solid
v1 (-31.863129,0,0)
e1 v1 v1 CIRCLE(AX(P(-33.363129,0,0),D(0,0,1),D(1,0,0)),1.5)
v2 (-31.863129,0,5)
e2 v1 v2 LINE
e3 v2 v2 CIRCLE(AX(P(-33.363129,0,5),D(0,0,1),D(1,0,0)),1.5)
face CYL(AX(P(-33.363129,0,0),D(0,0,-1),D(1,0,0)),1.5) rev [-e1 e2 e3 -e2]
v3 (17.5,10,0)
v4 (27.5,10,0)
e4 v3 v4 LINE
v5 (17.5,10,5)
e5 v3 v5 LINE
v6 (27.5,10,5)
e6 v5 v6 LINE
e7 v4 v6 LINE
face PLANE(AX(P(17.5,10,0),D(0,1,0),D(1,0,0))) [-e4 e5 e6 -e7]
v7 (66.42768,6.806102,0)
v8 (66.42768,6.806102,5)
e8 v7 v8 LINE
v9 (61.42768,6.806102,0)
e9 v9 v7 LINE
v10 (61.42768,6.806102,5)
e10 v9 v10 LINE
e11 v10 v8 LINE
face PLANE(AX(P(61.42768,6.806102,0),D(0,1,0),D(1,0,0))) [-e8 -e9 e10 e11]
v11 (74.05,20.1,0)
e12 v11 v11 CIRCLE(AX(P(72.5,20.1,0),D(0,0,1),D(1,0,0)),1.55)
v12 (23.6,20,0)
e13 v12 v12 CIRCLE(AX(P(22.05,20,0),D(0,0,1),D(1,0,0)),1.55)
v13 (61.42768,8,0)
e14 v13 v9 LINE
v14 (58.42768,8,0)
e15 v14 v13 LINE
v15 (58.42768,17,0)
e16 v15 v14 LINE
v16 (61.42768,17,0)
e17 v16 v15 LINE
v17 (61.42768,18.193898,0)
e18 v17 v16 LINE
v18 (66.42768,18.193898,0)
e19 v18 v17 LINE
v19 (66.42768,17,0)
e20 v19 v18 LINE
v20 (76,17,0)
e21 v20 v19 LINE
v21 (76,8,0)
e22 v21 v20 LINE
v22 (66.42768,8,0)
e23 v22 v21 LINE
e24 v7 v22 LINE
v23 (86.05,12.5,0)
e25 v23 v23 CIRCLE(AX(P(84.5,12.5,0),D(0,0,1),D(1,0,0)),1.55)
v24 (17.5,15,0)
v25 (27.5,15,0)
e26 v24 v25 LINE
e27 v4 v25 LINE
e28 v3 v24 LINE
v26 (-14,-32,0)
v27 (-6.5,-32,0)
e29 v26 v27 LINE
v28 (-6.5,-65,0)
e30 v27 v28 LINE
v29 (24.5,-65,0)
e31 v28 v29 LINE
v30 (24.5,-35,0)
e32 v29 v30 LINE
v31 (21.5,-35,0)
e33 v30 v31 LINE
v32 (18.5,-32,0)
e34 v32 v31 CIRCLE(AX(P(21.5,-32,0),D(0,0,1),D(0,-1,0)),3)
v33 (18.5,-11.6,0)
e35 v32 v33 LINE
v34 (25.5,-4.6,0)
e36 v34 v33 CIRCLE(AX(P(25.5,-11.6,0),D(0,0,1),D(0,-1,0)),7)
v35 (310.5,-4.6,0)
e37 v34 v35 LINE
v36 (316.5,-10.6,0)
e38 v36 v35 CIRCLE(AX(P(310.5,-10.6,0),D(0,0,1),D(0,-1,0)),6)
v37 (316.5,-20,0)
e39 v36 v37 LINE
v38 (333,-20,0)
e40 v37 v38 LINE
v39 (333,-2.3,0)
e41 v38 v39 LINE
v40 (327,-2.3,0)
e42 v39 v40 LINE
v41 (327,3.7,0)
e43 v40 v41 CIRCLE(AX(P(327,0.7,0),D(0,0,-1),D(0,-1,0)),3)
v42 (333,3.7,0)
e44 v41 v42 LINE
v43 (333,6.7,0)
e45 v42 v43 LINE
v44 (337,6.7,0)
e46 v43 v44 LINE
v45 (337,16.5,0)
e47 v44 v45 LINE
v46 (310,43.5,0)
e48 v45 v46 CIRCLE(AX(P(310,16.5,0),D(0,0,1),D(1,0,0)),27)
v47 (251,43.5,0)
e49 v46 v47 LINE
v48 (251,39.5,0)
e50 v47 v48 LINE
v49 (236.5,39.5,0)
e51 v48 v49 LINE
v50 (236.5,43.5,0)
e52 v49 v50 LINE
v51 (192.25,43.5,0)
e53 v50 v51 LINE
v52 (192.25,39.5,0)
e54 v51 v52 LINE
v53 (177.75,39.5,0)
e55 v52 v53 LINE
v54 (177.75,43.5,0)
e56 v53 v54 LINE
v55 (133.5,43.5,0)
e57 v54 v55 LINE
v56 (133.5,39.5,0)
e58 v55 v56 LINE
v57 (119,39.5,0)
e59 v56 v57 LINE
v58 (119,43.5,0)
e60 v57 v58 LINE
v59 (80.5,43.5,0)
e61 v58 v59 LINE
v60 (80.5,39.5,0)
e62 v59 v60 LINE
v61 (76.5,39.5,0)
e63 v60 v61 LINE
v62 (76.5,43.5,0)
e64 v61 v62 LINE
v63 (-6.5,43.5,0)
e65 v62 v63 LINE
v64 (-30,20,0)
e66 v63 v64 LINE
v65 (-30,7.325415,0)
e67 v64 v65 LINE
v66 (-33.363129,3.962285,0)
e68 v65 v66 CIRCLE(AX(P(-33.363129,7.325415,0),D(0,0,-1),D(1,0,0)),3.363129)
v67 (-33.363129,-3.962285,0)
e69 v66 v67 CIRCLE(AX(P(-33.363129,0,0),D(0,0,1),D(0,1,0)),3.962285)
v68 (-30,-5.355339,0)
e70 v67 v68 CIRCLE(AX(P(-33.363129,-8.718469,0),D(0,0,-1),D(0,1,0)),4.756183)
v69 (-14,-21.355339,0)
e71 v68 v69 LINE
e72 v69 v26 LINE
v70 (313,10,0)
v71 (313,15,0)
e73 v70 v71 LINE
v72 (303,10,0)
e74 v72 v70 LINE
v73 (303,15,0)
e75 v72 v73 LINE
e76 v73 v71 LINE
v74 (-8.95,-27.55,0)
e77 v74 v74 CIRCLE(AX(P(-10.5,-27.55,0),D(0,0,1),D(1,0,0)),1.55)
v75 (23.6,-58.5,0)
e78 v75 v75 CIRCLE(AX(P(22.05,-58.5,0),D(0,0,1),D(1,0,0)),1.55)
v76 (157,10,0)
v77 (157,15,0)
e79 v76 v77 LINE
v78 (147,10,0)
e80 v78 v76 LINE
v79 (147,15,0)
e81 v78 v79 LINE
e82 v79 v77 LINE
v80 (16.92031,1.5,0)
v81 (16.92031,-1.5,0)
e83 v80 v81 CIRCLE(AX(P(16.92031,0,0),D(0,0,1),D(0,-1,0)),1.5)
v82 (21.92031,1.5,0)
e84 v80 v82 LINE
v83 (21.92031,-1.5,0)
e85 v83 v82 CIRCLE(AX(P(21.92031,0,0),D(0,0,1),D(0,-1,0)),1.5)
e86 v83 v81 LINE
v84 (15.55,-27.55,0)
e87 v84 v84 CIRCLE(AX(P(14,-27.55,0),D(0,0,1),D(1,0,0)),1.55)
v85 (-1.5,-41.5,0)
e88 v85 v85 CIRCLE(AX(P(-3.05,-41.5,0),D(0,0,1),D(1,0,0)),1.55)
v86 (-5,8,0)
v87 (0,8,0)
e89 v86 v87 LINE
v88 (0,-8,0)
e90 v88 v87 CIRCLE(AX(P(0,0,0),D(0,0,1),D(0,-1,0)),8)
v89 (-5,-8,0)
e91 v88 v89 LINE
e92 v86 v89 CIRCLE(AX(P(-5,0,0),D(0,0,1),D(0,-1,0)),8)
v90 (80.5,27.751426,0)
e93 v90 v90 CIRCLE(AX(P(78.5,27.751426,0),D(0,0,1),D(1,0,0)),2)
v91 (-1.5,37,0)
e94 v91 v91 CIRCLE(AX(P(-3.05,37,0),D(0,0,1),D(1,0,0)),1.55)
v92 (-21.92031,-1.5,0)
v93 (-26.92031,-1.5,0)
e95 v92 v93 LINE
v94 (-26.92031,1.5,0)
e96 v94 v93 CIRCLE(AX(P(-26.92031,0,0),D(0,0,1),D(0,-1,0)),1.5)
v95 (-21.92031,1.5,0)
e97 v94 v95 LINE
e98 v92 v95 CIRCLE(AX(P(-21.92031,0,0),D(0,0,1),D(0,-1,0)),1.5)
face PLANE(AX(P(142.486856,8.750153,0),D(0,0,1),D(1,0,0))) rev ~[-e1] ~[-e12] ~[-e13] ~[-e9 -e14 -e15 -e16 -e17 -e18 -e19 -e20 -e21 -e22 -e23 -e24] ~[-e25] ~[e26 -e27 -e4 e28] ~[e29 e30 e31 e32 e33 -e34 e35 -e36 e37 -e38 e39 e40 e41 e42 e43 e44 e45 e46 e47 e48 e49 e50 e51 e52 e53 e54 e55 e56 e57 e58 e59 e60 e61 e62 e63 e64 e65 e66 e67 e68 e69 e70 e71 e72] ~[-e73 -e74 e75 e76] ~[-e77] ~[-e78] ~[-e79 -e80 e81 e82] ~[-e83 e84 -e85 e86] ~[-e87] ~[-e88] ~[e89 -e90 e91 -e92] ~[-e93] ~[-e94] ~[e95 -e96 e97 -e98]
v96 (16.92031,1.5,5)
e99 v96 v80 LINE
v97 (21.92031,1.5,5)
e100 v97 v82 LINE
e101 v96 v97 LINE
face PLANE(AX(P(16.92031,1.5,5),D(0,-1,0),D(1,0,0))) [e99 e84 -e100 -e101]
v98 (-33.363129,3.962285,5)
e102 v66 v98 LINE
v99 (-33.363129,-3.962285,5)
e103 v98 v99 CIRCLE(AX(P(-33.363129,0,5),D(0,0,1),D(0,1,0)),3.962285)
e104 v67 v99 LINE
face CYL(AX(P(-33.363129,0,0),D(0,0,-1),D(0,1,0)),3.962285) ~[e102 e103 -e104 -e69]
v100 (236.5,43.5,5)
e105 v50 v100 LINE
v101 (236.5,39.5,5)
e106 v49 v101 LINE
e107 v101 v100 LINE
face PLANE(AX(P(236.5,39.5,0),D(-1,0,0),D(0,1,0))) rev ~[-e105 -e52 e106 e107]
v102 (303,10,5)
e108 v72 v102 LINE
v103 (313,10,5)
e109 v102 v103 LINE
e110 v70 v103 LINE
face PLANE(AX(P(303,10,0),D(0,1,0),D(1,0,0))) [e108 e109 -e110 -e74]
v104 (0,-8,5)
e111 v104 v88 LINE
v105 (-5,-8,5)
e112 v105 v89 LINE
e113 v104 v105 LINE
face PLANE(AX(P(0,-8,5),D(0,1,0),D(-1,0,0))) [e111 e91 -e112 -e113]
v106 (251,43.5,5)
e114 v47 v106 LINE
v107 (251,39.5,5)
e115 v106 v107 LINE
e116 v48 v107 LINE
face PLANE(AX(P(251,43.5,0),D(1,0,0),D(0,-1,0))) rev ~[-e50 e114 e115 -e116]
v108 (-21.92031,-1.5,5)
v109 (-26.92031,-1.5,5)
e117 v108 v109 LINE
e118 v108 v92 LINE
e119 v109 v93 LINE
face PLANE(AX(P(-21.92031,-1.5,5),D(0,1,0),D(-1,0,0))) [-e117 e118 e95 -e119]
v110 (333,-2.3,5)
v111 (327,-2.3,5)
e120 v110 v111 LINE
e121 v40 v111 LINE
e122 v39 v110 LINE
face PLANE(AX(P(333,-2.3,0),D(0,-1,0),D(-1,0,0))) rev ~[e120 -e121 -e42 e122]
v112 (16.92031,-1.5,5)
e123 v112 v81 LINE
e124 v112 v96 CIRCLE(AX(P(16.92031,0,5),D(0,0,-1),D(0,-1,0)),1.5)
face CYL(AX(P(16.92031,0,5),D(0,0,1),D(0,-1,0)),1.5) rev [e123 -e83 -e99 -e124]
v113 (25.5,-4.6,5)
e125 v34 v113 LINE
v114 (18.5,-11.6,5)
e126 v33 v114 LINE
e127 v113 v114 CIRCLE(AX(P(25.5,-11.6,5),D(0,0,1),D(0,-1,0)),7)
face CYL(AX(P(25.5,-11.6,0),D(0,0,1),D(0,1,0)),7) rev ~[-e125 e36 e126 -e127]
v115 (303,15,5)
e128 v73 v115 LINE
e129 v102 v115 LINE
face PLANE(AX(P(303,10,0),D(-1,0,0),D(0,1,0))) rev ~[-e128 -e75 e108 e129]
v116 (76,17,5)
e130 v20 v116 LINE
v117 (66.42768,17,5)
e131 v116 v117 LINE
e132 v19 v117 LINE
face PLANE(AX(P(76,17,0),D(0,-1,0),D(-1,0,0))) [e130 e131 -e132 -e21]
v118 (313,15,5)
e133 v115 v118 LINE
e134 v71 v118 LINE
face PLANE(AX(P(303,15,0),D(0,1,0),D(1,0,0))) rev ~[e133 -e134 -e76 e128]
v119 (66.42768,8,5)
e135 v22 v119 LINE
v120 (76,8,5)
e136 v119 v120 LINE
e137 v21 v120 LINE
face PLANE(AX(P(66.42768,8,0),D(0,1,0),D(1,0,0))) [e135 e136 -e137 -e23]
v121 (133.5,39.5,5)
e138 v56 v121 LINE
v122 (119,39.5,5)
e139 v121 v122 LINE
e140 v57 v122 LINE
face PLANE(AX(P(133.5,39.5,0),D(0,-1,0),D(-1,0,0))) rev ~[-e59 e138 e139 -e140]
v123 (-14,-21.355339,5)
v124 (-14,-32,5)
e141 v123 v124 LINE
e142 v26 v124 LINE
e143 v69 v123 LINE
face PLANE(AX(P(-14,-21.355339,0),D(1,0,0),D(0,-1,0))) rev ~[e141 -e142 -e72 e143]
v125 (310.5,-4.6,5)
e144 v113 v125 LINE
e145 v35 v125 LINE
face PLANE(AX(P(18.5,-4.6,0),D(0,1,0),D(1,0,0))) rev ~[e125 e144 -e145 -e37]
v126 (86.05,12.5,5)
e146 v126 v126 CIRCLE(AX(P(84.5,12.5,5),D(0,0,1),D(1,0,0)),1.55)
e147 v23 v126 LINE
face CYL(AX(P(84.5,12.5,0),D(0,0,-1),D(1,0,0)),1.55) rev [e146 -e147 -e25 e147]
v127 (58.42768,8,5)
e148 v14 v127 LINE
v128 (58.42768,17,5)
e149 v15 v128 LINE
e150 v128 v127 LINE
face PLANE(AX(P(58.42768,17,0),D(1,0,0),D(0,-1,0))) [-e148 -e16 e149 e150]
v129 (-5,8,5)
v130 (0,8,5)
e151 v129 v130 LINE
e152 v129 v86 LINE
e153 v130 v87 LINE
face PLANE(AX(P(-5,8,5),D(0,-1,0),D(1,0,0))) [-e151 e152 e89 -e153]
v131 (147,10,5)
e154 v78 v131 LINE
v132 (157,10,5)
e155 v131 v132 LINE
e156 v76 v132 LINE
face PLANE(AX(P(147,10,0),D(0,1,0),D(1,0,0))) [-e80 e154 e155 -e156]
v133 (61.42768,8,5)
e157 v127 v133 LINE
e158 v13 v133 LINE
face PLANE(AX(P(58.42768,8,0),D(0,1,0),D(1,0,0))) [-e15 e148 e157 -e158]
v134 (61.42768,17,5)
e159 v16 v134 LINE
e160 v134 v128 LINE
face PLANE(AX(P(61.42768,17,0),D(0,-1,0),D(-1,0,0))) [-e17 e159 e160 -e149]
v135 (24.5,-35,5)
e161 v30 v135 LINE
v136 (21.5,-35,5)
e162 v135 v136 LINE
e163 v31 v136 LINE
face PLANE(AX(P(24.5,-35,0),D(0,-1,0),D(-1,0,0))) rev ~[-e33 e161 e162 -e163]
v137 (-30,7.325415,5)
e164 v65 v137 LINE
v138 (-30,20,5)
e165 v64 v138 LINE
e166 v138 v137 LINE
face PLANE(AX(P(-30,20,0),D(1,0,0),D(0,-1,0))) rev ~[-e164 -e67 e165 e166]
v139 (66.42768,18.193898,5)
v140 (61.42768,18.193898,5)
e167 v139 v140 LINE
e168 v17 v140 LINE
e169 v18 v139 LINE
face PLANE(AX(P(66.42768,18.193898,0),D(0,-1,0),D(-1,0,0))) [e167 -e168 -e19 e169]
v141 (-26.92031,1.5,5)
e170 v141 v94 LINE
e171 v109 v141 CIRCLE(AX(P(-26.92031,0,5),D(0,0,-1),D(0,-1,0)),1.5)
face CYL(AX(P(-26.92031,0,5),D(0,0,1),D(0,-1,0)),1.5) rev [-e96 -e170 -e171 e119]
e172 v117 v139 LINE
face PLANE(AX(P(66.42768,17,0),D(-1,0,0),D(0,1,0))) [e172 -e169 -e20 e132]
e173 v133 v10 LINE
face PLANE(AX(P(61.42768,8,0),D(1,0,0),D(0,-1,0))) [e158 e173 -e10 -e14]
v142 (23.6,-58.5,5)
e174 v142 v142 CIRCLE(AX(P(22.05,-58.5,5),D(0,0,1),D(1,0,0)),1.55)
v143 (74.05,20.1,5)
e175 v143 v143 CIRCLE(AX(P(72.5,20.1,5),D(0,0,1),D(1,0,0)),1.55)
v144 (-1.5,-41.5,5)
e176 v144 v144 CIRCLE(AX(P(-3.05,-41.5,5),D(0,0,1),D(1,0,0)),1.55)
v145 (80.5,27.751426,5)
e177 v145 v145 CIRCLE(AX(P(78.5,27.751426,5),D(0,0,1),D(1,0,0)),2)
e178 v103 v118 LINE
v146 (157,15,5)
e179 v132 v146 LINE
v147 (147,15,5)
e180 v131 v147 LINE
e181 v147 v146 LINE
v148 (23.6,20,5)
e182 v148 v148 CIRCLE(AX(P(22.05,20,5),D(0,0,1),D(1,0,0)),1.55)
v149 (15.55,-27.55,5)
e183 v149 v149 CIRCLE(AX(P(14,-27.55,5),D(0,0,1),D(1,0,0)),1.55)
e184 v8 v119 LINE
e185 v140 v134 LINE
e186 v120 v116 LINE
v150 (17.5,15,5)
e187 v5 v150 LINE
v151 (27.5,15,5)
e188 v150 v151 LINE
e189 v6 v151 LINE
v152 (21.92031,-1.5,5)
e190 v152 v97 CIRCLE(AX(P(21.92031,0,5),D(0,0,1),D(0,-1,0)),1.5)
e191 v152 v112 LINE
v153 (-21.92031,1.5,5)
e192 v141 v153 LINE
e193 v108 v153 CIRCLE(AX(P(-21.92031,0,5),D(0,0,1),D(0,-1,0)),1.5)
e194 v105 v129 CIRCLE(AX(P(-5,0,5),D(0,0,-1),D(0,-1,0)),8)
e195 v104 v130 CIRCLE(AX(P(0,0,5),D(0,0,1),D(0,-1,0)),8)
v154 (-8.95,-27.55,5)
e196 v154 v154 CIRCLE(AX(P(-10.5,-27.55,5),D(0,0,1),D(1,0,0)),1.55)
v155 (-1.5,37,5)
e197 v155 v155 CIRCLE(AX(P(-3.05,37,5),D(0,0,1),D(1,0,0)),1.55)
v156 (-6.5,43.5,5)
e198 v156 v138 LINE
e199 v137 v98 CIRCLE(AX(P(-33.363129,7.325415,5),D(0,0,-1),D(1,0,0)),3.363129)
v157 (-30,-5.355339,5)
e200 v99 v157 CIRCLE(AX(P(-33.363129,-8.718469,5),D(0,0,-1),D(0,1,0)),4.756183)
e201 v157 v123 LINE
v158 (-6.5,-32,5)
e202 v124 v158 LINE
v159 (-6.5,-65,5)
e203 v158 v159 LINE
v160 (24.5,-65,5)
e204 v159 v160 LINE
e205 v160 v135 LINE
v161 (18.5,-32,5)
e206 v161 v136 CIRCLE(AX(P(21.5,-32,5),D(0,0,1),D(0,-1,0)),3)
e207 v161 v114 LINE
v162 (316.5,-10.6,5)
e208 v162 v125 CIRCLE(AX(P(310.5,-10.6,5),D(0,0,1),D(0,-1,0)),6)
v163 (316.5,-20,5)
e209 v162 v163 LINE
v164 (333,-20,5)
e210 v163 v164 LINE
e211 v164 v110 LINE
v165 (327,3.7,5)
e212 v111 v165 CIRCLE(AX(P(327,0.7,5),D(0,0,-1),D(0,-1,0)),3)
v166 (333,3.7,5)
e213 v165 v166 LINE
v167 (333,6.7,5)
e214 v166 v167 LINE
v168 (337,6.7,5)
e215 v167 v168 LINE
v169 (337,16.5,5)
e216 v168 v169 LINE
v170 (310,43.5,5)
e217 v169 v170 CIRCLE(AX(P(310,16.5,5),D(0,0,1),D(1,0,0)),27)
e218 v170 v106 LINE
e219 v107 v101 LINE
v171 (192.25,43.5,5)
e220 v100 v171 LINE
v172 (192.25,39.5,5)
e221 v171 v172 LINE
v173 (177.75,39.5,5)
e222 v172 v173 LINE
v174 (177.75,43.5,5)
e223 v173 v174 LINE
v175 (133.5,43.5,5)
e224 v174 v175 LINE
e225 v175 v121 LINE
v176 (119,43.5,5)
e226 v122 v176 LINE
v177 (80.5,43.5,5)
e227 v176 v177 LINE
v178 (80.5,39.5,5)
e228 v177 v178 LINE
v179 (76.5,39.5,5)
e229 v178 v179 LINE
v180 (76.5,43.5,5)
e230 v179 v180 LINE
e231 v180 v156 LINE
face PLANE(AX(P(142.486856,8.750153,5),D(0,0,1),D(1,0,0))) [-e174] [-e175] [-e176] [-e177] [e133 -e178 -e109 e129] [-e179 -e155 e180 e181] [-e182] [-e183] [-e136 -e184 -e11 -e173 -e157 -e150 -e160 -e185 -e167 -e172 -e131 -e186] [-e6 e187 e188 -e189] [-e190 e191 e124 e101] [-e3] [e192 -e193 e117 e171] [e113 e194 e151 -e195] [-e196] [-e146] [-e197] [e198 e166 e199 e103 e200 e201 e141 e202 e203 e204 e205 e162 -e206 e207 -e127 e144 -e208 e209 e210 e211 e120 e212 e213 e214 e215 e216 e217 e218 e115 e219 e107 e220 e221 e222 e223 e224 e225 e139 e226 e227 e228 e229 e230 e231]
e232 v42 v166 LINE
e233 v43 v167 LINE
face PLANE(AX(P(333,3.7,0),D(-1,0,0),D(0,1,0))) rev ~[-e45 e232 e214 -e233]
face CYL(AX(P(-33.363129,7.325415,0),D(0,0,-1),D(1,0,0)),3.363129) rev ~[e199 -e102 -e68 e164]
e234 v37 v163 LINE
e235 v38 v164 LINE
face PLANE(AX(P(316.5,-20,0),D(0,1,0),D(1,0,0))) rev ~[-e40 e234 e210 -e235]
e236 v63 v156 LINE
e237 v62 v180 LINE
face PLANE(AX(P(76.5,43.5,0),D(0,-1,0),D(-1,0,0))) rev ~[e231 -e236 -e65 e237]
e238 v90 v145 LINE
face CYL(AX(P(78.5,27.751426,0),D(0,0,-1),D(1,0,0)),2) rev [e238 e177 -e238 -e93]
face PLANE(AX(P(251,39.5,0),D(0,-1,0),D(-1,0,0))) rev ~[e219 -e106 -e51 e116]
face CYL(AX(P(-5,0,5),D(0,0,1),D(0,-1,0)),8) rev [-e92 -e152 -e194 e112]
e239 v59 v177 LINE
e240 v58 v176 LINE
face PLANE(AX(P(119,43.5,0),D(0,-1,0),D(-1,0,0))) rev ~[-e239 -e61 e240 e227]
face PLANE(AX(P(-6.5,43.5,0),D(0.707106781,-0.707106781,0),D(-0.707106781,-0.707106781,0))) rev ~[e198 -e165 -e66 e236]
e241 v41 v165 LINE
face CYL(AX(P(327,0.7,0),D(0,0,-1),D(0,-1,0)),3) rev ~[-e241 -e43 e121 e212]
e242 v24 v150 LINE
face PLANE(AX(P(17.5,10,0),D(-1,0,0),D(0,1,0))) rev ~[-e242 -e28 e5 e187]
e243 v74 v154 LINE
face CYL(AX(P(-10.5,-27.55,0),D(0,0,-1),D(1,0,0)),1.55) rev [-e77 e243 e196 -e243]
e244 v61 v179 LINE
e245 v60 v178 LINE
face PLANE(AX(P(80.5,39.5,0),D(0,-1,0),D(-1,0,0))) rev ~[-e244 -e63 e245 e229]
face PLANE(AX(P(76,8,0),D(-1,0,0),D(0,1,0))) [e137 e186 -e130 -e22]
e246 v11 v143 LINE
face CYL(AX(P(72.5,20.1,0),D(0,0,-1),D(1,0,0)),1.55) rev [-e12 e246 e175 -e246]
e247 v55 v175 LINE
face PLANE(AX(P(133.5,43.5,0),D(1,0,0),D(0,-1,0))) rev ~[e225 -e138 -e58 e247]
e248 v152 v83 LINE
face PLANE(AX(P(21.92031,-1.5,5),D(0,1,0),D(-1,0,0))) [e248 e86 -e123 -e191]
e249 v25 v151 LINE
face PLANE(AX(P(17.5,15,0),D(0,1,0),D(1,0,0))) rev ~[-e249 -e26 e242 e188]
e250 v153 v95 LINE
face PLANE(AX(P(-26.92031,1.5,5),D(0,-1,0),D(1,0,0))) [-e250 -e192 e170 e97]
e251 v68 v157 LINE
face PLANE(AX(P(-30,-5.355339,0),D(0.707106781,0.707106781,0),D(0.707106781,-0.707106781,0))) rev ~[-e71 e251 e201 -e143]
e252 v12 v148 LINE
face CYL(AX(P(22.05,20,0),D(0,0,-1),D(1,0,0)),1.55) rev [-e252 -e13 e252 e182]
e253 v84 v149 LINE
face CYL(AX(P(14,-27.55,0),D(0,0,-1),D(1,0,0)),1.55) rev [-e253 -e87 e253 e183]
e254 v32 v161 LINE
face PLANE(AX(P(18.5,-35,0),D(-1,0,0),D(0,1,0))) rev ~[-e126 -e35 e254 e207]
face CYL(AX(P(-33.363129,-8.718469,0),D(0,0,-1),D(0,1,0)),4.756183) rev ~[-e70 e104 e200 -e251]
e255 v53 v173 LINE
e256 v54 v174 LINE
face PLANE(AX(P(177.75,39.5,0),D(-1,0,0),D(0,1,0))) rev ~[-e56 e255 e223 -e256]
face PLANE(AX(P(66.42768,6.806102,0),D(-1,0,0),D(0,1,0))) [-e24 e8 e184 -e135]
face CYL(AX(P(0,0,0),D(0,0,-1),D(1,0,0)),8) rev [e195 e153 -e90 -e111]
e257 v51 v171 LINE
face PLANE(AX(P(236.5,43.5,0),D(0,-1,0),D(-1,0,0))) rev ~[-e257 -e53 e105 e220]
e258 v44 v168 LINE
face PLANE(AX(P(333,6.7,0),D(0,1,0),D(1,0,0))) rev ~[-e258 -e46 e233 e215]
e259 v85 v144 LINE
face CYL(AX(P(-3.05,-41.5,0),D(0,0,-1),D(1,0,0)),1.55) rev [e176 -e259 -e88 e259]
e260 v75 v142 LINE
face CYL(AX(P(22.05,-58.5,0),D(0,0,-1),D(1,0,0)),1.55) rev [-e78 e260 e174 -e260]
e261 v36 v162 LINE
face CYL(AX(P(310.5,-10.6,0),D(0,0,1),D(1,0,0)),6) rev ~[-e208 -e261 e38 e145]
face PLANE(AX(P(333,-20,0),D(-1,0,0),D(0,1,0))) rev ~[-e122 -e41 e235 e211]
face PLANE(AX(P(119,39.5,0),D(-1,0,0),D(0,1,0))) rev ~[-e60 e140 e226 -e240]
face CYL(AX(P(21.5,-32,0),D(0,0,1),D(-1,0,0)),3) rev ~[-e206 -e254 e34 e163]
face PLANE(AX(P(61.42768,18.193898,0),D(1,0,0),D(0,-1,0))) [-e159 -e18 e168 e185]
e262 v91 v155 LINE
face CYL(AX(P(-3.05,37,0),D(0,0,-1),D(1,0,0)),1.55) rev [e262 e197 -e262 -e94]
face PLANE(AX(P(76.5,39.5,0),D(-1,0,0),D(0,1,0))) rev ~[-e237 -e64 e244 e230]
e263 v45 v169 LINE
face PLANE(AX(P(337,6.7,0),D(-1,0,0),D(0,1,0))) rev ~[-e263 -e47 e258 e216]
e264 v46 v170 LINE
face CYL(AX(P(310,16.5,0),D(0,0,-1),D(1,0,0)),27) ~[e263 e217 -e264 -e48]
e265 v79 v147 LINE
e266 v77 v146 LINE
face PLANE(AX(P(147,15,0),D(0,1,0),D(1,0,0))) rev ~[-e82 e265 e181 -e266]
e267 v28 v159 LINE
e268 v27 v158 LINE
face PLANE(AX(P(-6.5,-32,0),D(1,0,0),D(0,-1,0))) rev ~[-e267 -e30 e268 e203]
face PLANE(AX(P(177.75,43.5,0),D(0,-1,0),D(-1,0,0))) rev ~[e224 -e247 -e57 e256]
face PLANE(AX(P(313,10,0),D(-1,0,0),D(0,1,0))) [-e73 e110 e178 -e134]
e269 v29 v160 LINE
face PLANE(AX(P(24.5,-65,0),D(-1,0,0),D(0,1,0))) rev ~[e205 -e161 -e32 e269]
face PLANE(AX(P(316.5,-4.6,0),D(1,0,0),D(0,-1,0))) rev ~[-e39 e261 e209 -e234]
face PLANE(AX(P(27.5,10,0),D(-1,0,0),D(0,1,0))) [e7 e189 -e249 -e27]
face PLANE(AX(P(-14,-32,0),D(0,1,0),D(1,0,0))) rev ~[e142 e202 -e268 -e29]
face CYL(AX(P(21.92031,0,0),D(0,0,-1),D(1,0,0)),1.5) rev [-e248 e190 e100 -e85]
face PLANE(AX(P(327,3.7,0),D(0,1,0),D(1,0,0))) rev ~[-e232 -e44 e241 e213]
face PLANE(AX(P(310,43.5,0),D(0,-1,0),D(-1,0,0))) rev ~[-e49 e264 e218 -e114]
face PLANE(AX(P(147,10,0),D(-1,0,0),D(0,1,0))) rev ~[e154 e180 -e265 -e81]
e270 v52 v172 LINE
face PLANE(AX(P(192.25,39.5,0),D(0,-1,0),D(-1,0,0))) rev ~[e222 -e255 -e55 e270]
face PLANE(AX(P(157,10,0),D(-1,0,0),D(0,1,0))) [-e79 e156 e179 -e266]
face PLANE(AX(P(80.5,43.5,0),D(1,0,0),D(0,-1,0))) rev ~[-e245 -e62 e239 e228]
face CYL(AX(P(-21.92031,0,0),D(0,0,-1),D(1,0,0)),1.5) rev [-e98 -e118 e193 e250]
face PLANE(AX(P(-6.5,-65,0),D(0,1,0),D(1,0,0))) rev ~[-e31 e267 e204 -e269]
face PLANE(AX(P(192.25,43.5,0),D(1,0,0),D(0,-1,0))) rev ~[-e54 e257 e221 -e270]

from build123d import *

# Parameters (mm, degrees)
SKETCH1_R           = 1.5
SKETCH1_R_2         = 8
SKETCH1_R_3         = 1.55
SKETCH1_R_4         = 2
SKETCH1_W           = 10
SKETCH1_H           = 5
BOSS_EXTRUDE1_DEPTH = 5
FILLET2_R           = 7
FILLET3_R           = 3
CUT_EXTRUDE1_DEPTH  = 6
FILLET4_R           = 6


with BuildPart() as part:
    # Sketch1 → Boss-Extrude1 (new body)
    with BuildSketch(Plane.XY):
        with BuildLine():
            Line((310, 43.5), (251, 43.5))
            Line((251, 43.5), (251, 39.5))
            Line((251, 39.5), (236.5, 39.5))
            Line((236.5, 39.5), (236.5, 43.5))
            Line((236.5, 43.5), (192.25, 43.5))
            Line((192.25, 43.5), (192.25, 39.5))
            Line((192.25, 39.5), (177.75, 39.5))
            Line((177.75, 39.5), (177.75, 43.5))
            Line((177.75, 43.5), (133.5, 43.5))
            Line((133.5, 43.5), (133.5, 39.5))
            Line((133.5, 39.5), (119, 39.5))
            Line((119, 39.5), (119, 43.5))
            Line((119, 43.5), (80.5, 43.5))
            Line((80.5, 43.5), (80.5, 39.5))
            Line((80.5, 39.5), (76.5, 39.5))
            Line((76.5, 39.5), (76.5, 43.5))
            Line((76.5, 43.5), (-6.5, 43.5))
            Line((-6.5, 43.5), (-30, 20))
            Line((-30, 20), (-30, 7.325414703))
            ThreePointArc((-30, 7.325414703), (-30.985037822, 4.947323034), (-33.36312949, 3.962285212))
            ThreePointArc((-33.36312949, 3.962285212), (-37.325414703, 0), (-33.36312949, -3.962285212))
            ThreePointArc((-33.36312949, -3.962285212), (-31.543016926, -4.324328111), (-30, -5.355339059))
            Line((-30, -5.355339059), (-14, -21.355339059))
            Line((-14, -21.355339059), (-14, -32))
            Line((-14, -32), (-6.5, -32))
            Line((-6.5, -32), (-6.5, -65))
            Line((-6.5, -65), (24.5, -65))
            Line((24.5, -65), (24.5, -35))
            Line((24.5, -35), (18.5, -35))
            Line((18.5, -35), (18.5, -4.6))
            Line((18.5, -4.6), (316.5, -4.6))
            Line((316.5, -4.6), (316.5, -20))
            Line((316.5, -20), (333, -20))
            Line((333, -20), (333, -2.3))
            Line((333, -2.3), (327, -2.3))
            ThreePointArc((327, -2.3), (324, 0.7), (327, 3.7))
            Line((327, 3.7), (333, 3.7))
            Line((333, 3.7), (333, 6.7))
            Line((333, 6.7), (337, 6.7))
            Line((337, 6.7), (337, 16.5))
            ThreePointArc((337, 16.5), (329.091883092, 35.591883092), (310, 43.5))
        make_face()
        with Locations((21.920310217, 0)):
            Circle(SKETCH1_R, mode=Mode.SUBTRACT)
        with Locations((-21.920310217, 0)):
            Circle(SKETCH1_R, mode=Mode.SUBTRACT)
        Circle(SKETCH1_R_2, mode=Mode.SUBTRACT)
        with Locations((-3.05, 37)):
            Circle(SKETCH1_R_3, mode=Mode.SUBTRACT)
        with Locations((22.05, 20)):
            Circle(SKETCH1_R_3, mode=Mode.SUBTRACT)
        with Locations((-3.05, -41.5)):
            Circle(SKETCH1_R_3, mode=Mode.SUBTRACT)
        with Locations((22.05, -58.5)):
            Circle(SKETCH1_R_3, mode=Mode.SUBTRACT)
        with Locations((72.5, 20.1)):
            Circle(SKETCH1_R_3, mode=Mode.SUBTRACT)
        with Locations((84.5, 12.5)):
            Circle(SKETCH1_R_3, mode=Mode.SUBTRACT)
        with Locations((-10.5, -27.55)):
            Circle(SKETCH1_R_3, mode=Mode.SUBTRACT)
        with Locations((14, -27.55)):
            Circle(SKETCH1_R_3, mode=Mode.SUBTRACT)
        with Locations((-33.36312949, 0)):
            Circle(SKETCH1_R, mode=Mode.SUBTRACT)
        with Locations((78.5, 27.751425951)):
            Circle(SKETCH1_R_4, mode=Mode.SUBTRACT)
        with Locations((22.5, 12.5)):
            Rectangle(SKETCH1_W, SKETCH1_H, mode=Mode.SUBTRACT)
        with Locations((152, 12.5)):
            Rectangle(SKETCH1_W, SKETCH1_H, mode=Mode.SUBTRACT)
        with Locations((308, 12.5)):
            Rectangle(SKETCH1_W, SKETCH1_H, mode=Mode.SUBTRACT)
        Polygon((58.427680349, 8), (61.427680349, 8), (61.427680349, 6.806102344), (66.427680349, 6.806102344), (66.427680349, 8), (76, 8), (76, 17), (66.427680349, 17), (66.427680349, 18.193897656), (61.427680349, 18.193897656), (61.427680349, 17), (58.427680349, 17), align=None, mode=Mode.SUBTRACT)
    extrude(amount=BOSS_EXTRUDE1_DEPTH)

    # Fillet2
    fillet2_edges = [part.edges().sort_by_distance(p)[0] for p in [
        (18.5, -4.6, 2.5),
    ]]
    fillet(fillet2_edges, radius=FILLET2_R)

    # Fillet3
    fillet3_edges = [part.edges().sort_by_distance(p)[0] for p in [
        (18.5, -35, 2.5),
    ]]
    fillet(fillet3_edges, radius=FILLET3_R)

    # Sketch2 → Cut-Extrude1 (cut, through all)
    with BuildSketch(Plane.XY.offset(5)):
        with BuildLine():
            Line((21.920310217, -1.5), (16.920310217, -1.5))
            ThreePointArc((16.920310217, -1.5), (15.420310217, 0), (16.920310217, 1.5))
            Line((16.920310217, 1.5), (21.920310217, 1.5))
            ThreePointArc((21.920310217, 1.5), (23.420310217, 0), (21.920310217, -1.5))
        make_face()
        with BuildLine():
            Line((0, -8), (-5, -8))
            ThreePointArc((-5, -8), (-13, 0), (-5, 8))
            Line((-5, 8), (0, 8))
            ThreePointArc((0, 8), (8, 0), (0, -8))
        make_face()
        with BuildLine():
            Line((-21.920310217, -1.5), (-26.920310217, -1.5))
            ThreePointArc((-26.920310217, -1.5), (-28.420310217, 0), (-26.920310217, 1.5))
            Line((-26.920310217, 1.5), (-21.920310217, 1.5))
            ThreePointArc((-21.920310217, 1.5), (-20.420310217, 0), (-21.920310217, -1.5))
        make_face()
    extrude(amount=-CUT_EXTRUDE1_DEPTH, mode=Mode.SUBTRACT)

    # Fillet4
    fillet4_edges = [part.edges().sort_by_distance(p)[0] for p in [
        (316.5, -4.6, 2.5),
    ]]
    fillet(fillet4_edges, radius=FILLET4_R)


solid = part.part
